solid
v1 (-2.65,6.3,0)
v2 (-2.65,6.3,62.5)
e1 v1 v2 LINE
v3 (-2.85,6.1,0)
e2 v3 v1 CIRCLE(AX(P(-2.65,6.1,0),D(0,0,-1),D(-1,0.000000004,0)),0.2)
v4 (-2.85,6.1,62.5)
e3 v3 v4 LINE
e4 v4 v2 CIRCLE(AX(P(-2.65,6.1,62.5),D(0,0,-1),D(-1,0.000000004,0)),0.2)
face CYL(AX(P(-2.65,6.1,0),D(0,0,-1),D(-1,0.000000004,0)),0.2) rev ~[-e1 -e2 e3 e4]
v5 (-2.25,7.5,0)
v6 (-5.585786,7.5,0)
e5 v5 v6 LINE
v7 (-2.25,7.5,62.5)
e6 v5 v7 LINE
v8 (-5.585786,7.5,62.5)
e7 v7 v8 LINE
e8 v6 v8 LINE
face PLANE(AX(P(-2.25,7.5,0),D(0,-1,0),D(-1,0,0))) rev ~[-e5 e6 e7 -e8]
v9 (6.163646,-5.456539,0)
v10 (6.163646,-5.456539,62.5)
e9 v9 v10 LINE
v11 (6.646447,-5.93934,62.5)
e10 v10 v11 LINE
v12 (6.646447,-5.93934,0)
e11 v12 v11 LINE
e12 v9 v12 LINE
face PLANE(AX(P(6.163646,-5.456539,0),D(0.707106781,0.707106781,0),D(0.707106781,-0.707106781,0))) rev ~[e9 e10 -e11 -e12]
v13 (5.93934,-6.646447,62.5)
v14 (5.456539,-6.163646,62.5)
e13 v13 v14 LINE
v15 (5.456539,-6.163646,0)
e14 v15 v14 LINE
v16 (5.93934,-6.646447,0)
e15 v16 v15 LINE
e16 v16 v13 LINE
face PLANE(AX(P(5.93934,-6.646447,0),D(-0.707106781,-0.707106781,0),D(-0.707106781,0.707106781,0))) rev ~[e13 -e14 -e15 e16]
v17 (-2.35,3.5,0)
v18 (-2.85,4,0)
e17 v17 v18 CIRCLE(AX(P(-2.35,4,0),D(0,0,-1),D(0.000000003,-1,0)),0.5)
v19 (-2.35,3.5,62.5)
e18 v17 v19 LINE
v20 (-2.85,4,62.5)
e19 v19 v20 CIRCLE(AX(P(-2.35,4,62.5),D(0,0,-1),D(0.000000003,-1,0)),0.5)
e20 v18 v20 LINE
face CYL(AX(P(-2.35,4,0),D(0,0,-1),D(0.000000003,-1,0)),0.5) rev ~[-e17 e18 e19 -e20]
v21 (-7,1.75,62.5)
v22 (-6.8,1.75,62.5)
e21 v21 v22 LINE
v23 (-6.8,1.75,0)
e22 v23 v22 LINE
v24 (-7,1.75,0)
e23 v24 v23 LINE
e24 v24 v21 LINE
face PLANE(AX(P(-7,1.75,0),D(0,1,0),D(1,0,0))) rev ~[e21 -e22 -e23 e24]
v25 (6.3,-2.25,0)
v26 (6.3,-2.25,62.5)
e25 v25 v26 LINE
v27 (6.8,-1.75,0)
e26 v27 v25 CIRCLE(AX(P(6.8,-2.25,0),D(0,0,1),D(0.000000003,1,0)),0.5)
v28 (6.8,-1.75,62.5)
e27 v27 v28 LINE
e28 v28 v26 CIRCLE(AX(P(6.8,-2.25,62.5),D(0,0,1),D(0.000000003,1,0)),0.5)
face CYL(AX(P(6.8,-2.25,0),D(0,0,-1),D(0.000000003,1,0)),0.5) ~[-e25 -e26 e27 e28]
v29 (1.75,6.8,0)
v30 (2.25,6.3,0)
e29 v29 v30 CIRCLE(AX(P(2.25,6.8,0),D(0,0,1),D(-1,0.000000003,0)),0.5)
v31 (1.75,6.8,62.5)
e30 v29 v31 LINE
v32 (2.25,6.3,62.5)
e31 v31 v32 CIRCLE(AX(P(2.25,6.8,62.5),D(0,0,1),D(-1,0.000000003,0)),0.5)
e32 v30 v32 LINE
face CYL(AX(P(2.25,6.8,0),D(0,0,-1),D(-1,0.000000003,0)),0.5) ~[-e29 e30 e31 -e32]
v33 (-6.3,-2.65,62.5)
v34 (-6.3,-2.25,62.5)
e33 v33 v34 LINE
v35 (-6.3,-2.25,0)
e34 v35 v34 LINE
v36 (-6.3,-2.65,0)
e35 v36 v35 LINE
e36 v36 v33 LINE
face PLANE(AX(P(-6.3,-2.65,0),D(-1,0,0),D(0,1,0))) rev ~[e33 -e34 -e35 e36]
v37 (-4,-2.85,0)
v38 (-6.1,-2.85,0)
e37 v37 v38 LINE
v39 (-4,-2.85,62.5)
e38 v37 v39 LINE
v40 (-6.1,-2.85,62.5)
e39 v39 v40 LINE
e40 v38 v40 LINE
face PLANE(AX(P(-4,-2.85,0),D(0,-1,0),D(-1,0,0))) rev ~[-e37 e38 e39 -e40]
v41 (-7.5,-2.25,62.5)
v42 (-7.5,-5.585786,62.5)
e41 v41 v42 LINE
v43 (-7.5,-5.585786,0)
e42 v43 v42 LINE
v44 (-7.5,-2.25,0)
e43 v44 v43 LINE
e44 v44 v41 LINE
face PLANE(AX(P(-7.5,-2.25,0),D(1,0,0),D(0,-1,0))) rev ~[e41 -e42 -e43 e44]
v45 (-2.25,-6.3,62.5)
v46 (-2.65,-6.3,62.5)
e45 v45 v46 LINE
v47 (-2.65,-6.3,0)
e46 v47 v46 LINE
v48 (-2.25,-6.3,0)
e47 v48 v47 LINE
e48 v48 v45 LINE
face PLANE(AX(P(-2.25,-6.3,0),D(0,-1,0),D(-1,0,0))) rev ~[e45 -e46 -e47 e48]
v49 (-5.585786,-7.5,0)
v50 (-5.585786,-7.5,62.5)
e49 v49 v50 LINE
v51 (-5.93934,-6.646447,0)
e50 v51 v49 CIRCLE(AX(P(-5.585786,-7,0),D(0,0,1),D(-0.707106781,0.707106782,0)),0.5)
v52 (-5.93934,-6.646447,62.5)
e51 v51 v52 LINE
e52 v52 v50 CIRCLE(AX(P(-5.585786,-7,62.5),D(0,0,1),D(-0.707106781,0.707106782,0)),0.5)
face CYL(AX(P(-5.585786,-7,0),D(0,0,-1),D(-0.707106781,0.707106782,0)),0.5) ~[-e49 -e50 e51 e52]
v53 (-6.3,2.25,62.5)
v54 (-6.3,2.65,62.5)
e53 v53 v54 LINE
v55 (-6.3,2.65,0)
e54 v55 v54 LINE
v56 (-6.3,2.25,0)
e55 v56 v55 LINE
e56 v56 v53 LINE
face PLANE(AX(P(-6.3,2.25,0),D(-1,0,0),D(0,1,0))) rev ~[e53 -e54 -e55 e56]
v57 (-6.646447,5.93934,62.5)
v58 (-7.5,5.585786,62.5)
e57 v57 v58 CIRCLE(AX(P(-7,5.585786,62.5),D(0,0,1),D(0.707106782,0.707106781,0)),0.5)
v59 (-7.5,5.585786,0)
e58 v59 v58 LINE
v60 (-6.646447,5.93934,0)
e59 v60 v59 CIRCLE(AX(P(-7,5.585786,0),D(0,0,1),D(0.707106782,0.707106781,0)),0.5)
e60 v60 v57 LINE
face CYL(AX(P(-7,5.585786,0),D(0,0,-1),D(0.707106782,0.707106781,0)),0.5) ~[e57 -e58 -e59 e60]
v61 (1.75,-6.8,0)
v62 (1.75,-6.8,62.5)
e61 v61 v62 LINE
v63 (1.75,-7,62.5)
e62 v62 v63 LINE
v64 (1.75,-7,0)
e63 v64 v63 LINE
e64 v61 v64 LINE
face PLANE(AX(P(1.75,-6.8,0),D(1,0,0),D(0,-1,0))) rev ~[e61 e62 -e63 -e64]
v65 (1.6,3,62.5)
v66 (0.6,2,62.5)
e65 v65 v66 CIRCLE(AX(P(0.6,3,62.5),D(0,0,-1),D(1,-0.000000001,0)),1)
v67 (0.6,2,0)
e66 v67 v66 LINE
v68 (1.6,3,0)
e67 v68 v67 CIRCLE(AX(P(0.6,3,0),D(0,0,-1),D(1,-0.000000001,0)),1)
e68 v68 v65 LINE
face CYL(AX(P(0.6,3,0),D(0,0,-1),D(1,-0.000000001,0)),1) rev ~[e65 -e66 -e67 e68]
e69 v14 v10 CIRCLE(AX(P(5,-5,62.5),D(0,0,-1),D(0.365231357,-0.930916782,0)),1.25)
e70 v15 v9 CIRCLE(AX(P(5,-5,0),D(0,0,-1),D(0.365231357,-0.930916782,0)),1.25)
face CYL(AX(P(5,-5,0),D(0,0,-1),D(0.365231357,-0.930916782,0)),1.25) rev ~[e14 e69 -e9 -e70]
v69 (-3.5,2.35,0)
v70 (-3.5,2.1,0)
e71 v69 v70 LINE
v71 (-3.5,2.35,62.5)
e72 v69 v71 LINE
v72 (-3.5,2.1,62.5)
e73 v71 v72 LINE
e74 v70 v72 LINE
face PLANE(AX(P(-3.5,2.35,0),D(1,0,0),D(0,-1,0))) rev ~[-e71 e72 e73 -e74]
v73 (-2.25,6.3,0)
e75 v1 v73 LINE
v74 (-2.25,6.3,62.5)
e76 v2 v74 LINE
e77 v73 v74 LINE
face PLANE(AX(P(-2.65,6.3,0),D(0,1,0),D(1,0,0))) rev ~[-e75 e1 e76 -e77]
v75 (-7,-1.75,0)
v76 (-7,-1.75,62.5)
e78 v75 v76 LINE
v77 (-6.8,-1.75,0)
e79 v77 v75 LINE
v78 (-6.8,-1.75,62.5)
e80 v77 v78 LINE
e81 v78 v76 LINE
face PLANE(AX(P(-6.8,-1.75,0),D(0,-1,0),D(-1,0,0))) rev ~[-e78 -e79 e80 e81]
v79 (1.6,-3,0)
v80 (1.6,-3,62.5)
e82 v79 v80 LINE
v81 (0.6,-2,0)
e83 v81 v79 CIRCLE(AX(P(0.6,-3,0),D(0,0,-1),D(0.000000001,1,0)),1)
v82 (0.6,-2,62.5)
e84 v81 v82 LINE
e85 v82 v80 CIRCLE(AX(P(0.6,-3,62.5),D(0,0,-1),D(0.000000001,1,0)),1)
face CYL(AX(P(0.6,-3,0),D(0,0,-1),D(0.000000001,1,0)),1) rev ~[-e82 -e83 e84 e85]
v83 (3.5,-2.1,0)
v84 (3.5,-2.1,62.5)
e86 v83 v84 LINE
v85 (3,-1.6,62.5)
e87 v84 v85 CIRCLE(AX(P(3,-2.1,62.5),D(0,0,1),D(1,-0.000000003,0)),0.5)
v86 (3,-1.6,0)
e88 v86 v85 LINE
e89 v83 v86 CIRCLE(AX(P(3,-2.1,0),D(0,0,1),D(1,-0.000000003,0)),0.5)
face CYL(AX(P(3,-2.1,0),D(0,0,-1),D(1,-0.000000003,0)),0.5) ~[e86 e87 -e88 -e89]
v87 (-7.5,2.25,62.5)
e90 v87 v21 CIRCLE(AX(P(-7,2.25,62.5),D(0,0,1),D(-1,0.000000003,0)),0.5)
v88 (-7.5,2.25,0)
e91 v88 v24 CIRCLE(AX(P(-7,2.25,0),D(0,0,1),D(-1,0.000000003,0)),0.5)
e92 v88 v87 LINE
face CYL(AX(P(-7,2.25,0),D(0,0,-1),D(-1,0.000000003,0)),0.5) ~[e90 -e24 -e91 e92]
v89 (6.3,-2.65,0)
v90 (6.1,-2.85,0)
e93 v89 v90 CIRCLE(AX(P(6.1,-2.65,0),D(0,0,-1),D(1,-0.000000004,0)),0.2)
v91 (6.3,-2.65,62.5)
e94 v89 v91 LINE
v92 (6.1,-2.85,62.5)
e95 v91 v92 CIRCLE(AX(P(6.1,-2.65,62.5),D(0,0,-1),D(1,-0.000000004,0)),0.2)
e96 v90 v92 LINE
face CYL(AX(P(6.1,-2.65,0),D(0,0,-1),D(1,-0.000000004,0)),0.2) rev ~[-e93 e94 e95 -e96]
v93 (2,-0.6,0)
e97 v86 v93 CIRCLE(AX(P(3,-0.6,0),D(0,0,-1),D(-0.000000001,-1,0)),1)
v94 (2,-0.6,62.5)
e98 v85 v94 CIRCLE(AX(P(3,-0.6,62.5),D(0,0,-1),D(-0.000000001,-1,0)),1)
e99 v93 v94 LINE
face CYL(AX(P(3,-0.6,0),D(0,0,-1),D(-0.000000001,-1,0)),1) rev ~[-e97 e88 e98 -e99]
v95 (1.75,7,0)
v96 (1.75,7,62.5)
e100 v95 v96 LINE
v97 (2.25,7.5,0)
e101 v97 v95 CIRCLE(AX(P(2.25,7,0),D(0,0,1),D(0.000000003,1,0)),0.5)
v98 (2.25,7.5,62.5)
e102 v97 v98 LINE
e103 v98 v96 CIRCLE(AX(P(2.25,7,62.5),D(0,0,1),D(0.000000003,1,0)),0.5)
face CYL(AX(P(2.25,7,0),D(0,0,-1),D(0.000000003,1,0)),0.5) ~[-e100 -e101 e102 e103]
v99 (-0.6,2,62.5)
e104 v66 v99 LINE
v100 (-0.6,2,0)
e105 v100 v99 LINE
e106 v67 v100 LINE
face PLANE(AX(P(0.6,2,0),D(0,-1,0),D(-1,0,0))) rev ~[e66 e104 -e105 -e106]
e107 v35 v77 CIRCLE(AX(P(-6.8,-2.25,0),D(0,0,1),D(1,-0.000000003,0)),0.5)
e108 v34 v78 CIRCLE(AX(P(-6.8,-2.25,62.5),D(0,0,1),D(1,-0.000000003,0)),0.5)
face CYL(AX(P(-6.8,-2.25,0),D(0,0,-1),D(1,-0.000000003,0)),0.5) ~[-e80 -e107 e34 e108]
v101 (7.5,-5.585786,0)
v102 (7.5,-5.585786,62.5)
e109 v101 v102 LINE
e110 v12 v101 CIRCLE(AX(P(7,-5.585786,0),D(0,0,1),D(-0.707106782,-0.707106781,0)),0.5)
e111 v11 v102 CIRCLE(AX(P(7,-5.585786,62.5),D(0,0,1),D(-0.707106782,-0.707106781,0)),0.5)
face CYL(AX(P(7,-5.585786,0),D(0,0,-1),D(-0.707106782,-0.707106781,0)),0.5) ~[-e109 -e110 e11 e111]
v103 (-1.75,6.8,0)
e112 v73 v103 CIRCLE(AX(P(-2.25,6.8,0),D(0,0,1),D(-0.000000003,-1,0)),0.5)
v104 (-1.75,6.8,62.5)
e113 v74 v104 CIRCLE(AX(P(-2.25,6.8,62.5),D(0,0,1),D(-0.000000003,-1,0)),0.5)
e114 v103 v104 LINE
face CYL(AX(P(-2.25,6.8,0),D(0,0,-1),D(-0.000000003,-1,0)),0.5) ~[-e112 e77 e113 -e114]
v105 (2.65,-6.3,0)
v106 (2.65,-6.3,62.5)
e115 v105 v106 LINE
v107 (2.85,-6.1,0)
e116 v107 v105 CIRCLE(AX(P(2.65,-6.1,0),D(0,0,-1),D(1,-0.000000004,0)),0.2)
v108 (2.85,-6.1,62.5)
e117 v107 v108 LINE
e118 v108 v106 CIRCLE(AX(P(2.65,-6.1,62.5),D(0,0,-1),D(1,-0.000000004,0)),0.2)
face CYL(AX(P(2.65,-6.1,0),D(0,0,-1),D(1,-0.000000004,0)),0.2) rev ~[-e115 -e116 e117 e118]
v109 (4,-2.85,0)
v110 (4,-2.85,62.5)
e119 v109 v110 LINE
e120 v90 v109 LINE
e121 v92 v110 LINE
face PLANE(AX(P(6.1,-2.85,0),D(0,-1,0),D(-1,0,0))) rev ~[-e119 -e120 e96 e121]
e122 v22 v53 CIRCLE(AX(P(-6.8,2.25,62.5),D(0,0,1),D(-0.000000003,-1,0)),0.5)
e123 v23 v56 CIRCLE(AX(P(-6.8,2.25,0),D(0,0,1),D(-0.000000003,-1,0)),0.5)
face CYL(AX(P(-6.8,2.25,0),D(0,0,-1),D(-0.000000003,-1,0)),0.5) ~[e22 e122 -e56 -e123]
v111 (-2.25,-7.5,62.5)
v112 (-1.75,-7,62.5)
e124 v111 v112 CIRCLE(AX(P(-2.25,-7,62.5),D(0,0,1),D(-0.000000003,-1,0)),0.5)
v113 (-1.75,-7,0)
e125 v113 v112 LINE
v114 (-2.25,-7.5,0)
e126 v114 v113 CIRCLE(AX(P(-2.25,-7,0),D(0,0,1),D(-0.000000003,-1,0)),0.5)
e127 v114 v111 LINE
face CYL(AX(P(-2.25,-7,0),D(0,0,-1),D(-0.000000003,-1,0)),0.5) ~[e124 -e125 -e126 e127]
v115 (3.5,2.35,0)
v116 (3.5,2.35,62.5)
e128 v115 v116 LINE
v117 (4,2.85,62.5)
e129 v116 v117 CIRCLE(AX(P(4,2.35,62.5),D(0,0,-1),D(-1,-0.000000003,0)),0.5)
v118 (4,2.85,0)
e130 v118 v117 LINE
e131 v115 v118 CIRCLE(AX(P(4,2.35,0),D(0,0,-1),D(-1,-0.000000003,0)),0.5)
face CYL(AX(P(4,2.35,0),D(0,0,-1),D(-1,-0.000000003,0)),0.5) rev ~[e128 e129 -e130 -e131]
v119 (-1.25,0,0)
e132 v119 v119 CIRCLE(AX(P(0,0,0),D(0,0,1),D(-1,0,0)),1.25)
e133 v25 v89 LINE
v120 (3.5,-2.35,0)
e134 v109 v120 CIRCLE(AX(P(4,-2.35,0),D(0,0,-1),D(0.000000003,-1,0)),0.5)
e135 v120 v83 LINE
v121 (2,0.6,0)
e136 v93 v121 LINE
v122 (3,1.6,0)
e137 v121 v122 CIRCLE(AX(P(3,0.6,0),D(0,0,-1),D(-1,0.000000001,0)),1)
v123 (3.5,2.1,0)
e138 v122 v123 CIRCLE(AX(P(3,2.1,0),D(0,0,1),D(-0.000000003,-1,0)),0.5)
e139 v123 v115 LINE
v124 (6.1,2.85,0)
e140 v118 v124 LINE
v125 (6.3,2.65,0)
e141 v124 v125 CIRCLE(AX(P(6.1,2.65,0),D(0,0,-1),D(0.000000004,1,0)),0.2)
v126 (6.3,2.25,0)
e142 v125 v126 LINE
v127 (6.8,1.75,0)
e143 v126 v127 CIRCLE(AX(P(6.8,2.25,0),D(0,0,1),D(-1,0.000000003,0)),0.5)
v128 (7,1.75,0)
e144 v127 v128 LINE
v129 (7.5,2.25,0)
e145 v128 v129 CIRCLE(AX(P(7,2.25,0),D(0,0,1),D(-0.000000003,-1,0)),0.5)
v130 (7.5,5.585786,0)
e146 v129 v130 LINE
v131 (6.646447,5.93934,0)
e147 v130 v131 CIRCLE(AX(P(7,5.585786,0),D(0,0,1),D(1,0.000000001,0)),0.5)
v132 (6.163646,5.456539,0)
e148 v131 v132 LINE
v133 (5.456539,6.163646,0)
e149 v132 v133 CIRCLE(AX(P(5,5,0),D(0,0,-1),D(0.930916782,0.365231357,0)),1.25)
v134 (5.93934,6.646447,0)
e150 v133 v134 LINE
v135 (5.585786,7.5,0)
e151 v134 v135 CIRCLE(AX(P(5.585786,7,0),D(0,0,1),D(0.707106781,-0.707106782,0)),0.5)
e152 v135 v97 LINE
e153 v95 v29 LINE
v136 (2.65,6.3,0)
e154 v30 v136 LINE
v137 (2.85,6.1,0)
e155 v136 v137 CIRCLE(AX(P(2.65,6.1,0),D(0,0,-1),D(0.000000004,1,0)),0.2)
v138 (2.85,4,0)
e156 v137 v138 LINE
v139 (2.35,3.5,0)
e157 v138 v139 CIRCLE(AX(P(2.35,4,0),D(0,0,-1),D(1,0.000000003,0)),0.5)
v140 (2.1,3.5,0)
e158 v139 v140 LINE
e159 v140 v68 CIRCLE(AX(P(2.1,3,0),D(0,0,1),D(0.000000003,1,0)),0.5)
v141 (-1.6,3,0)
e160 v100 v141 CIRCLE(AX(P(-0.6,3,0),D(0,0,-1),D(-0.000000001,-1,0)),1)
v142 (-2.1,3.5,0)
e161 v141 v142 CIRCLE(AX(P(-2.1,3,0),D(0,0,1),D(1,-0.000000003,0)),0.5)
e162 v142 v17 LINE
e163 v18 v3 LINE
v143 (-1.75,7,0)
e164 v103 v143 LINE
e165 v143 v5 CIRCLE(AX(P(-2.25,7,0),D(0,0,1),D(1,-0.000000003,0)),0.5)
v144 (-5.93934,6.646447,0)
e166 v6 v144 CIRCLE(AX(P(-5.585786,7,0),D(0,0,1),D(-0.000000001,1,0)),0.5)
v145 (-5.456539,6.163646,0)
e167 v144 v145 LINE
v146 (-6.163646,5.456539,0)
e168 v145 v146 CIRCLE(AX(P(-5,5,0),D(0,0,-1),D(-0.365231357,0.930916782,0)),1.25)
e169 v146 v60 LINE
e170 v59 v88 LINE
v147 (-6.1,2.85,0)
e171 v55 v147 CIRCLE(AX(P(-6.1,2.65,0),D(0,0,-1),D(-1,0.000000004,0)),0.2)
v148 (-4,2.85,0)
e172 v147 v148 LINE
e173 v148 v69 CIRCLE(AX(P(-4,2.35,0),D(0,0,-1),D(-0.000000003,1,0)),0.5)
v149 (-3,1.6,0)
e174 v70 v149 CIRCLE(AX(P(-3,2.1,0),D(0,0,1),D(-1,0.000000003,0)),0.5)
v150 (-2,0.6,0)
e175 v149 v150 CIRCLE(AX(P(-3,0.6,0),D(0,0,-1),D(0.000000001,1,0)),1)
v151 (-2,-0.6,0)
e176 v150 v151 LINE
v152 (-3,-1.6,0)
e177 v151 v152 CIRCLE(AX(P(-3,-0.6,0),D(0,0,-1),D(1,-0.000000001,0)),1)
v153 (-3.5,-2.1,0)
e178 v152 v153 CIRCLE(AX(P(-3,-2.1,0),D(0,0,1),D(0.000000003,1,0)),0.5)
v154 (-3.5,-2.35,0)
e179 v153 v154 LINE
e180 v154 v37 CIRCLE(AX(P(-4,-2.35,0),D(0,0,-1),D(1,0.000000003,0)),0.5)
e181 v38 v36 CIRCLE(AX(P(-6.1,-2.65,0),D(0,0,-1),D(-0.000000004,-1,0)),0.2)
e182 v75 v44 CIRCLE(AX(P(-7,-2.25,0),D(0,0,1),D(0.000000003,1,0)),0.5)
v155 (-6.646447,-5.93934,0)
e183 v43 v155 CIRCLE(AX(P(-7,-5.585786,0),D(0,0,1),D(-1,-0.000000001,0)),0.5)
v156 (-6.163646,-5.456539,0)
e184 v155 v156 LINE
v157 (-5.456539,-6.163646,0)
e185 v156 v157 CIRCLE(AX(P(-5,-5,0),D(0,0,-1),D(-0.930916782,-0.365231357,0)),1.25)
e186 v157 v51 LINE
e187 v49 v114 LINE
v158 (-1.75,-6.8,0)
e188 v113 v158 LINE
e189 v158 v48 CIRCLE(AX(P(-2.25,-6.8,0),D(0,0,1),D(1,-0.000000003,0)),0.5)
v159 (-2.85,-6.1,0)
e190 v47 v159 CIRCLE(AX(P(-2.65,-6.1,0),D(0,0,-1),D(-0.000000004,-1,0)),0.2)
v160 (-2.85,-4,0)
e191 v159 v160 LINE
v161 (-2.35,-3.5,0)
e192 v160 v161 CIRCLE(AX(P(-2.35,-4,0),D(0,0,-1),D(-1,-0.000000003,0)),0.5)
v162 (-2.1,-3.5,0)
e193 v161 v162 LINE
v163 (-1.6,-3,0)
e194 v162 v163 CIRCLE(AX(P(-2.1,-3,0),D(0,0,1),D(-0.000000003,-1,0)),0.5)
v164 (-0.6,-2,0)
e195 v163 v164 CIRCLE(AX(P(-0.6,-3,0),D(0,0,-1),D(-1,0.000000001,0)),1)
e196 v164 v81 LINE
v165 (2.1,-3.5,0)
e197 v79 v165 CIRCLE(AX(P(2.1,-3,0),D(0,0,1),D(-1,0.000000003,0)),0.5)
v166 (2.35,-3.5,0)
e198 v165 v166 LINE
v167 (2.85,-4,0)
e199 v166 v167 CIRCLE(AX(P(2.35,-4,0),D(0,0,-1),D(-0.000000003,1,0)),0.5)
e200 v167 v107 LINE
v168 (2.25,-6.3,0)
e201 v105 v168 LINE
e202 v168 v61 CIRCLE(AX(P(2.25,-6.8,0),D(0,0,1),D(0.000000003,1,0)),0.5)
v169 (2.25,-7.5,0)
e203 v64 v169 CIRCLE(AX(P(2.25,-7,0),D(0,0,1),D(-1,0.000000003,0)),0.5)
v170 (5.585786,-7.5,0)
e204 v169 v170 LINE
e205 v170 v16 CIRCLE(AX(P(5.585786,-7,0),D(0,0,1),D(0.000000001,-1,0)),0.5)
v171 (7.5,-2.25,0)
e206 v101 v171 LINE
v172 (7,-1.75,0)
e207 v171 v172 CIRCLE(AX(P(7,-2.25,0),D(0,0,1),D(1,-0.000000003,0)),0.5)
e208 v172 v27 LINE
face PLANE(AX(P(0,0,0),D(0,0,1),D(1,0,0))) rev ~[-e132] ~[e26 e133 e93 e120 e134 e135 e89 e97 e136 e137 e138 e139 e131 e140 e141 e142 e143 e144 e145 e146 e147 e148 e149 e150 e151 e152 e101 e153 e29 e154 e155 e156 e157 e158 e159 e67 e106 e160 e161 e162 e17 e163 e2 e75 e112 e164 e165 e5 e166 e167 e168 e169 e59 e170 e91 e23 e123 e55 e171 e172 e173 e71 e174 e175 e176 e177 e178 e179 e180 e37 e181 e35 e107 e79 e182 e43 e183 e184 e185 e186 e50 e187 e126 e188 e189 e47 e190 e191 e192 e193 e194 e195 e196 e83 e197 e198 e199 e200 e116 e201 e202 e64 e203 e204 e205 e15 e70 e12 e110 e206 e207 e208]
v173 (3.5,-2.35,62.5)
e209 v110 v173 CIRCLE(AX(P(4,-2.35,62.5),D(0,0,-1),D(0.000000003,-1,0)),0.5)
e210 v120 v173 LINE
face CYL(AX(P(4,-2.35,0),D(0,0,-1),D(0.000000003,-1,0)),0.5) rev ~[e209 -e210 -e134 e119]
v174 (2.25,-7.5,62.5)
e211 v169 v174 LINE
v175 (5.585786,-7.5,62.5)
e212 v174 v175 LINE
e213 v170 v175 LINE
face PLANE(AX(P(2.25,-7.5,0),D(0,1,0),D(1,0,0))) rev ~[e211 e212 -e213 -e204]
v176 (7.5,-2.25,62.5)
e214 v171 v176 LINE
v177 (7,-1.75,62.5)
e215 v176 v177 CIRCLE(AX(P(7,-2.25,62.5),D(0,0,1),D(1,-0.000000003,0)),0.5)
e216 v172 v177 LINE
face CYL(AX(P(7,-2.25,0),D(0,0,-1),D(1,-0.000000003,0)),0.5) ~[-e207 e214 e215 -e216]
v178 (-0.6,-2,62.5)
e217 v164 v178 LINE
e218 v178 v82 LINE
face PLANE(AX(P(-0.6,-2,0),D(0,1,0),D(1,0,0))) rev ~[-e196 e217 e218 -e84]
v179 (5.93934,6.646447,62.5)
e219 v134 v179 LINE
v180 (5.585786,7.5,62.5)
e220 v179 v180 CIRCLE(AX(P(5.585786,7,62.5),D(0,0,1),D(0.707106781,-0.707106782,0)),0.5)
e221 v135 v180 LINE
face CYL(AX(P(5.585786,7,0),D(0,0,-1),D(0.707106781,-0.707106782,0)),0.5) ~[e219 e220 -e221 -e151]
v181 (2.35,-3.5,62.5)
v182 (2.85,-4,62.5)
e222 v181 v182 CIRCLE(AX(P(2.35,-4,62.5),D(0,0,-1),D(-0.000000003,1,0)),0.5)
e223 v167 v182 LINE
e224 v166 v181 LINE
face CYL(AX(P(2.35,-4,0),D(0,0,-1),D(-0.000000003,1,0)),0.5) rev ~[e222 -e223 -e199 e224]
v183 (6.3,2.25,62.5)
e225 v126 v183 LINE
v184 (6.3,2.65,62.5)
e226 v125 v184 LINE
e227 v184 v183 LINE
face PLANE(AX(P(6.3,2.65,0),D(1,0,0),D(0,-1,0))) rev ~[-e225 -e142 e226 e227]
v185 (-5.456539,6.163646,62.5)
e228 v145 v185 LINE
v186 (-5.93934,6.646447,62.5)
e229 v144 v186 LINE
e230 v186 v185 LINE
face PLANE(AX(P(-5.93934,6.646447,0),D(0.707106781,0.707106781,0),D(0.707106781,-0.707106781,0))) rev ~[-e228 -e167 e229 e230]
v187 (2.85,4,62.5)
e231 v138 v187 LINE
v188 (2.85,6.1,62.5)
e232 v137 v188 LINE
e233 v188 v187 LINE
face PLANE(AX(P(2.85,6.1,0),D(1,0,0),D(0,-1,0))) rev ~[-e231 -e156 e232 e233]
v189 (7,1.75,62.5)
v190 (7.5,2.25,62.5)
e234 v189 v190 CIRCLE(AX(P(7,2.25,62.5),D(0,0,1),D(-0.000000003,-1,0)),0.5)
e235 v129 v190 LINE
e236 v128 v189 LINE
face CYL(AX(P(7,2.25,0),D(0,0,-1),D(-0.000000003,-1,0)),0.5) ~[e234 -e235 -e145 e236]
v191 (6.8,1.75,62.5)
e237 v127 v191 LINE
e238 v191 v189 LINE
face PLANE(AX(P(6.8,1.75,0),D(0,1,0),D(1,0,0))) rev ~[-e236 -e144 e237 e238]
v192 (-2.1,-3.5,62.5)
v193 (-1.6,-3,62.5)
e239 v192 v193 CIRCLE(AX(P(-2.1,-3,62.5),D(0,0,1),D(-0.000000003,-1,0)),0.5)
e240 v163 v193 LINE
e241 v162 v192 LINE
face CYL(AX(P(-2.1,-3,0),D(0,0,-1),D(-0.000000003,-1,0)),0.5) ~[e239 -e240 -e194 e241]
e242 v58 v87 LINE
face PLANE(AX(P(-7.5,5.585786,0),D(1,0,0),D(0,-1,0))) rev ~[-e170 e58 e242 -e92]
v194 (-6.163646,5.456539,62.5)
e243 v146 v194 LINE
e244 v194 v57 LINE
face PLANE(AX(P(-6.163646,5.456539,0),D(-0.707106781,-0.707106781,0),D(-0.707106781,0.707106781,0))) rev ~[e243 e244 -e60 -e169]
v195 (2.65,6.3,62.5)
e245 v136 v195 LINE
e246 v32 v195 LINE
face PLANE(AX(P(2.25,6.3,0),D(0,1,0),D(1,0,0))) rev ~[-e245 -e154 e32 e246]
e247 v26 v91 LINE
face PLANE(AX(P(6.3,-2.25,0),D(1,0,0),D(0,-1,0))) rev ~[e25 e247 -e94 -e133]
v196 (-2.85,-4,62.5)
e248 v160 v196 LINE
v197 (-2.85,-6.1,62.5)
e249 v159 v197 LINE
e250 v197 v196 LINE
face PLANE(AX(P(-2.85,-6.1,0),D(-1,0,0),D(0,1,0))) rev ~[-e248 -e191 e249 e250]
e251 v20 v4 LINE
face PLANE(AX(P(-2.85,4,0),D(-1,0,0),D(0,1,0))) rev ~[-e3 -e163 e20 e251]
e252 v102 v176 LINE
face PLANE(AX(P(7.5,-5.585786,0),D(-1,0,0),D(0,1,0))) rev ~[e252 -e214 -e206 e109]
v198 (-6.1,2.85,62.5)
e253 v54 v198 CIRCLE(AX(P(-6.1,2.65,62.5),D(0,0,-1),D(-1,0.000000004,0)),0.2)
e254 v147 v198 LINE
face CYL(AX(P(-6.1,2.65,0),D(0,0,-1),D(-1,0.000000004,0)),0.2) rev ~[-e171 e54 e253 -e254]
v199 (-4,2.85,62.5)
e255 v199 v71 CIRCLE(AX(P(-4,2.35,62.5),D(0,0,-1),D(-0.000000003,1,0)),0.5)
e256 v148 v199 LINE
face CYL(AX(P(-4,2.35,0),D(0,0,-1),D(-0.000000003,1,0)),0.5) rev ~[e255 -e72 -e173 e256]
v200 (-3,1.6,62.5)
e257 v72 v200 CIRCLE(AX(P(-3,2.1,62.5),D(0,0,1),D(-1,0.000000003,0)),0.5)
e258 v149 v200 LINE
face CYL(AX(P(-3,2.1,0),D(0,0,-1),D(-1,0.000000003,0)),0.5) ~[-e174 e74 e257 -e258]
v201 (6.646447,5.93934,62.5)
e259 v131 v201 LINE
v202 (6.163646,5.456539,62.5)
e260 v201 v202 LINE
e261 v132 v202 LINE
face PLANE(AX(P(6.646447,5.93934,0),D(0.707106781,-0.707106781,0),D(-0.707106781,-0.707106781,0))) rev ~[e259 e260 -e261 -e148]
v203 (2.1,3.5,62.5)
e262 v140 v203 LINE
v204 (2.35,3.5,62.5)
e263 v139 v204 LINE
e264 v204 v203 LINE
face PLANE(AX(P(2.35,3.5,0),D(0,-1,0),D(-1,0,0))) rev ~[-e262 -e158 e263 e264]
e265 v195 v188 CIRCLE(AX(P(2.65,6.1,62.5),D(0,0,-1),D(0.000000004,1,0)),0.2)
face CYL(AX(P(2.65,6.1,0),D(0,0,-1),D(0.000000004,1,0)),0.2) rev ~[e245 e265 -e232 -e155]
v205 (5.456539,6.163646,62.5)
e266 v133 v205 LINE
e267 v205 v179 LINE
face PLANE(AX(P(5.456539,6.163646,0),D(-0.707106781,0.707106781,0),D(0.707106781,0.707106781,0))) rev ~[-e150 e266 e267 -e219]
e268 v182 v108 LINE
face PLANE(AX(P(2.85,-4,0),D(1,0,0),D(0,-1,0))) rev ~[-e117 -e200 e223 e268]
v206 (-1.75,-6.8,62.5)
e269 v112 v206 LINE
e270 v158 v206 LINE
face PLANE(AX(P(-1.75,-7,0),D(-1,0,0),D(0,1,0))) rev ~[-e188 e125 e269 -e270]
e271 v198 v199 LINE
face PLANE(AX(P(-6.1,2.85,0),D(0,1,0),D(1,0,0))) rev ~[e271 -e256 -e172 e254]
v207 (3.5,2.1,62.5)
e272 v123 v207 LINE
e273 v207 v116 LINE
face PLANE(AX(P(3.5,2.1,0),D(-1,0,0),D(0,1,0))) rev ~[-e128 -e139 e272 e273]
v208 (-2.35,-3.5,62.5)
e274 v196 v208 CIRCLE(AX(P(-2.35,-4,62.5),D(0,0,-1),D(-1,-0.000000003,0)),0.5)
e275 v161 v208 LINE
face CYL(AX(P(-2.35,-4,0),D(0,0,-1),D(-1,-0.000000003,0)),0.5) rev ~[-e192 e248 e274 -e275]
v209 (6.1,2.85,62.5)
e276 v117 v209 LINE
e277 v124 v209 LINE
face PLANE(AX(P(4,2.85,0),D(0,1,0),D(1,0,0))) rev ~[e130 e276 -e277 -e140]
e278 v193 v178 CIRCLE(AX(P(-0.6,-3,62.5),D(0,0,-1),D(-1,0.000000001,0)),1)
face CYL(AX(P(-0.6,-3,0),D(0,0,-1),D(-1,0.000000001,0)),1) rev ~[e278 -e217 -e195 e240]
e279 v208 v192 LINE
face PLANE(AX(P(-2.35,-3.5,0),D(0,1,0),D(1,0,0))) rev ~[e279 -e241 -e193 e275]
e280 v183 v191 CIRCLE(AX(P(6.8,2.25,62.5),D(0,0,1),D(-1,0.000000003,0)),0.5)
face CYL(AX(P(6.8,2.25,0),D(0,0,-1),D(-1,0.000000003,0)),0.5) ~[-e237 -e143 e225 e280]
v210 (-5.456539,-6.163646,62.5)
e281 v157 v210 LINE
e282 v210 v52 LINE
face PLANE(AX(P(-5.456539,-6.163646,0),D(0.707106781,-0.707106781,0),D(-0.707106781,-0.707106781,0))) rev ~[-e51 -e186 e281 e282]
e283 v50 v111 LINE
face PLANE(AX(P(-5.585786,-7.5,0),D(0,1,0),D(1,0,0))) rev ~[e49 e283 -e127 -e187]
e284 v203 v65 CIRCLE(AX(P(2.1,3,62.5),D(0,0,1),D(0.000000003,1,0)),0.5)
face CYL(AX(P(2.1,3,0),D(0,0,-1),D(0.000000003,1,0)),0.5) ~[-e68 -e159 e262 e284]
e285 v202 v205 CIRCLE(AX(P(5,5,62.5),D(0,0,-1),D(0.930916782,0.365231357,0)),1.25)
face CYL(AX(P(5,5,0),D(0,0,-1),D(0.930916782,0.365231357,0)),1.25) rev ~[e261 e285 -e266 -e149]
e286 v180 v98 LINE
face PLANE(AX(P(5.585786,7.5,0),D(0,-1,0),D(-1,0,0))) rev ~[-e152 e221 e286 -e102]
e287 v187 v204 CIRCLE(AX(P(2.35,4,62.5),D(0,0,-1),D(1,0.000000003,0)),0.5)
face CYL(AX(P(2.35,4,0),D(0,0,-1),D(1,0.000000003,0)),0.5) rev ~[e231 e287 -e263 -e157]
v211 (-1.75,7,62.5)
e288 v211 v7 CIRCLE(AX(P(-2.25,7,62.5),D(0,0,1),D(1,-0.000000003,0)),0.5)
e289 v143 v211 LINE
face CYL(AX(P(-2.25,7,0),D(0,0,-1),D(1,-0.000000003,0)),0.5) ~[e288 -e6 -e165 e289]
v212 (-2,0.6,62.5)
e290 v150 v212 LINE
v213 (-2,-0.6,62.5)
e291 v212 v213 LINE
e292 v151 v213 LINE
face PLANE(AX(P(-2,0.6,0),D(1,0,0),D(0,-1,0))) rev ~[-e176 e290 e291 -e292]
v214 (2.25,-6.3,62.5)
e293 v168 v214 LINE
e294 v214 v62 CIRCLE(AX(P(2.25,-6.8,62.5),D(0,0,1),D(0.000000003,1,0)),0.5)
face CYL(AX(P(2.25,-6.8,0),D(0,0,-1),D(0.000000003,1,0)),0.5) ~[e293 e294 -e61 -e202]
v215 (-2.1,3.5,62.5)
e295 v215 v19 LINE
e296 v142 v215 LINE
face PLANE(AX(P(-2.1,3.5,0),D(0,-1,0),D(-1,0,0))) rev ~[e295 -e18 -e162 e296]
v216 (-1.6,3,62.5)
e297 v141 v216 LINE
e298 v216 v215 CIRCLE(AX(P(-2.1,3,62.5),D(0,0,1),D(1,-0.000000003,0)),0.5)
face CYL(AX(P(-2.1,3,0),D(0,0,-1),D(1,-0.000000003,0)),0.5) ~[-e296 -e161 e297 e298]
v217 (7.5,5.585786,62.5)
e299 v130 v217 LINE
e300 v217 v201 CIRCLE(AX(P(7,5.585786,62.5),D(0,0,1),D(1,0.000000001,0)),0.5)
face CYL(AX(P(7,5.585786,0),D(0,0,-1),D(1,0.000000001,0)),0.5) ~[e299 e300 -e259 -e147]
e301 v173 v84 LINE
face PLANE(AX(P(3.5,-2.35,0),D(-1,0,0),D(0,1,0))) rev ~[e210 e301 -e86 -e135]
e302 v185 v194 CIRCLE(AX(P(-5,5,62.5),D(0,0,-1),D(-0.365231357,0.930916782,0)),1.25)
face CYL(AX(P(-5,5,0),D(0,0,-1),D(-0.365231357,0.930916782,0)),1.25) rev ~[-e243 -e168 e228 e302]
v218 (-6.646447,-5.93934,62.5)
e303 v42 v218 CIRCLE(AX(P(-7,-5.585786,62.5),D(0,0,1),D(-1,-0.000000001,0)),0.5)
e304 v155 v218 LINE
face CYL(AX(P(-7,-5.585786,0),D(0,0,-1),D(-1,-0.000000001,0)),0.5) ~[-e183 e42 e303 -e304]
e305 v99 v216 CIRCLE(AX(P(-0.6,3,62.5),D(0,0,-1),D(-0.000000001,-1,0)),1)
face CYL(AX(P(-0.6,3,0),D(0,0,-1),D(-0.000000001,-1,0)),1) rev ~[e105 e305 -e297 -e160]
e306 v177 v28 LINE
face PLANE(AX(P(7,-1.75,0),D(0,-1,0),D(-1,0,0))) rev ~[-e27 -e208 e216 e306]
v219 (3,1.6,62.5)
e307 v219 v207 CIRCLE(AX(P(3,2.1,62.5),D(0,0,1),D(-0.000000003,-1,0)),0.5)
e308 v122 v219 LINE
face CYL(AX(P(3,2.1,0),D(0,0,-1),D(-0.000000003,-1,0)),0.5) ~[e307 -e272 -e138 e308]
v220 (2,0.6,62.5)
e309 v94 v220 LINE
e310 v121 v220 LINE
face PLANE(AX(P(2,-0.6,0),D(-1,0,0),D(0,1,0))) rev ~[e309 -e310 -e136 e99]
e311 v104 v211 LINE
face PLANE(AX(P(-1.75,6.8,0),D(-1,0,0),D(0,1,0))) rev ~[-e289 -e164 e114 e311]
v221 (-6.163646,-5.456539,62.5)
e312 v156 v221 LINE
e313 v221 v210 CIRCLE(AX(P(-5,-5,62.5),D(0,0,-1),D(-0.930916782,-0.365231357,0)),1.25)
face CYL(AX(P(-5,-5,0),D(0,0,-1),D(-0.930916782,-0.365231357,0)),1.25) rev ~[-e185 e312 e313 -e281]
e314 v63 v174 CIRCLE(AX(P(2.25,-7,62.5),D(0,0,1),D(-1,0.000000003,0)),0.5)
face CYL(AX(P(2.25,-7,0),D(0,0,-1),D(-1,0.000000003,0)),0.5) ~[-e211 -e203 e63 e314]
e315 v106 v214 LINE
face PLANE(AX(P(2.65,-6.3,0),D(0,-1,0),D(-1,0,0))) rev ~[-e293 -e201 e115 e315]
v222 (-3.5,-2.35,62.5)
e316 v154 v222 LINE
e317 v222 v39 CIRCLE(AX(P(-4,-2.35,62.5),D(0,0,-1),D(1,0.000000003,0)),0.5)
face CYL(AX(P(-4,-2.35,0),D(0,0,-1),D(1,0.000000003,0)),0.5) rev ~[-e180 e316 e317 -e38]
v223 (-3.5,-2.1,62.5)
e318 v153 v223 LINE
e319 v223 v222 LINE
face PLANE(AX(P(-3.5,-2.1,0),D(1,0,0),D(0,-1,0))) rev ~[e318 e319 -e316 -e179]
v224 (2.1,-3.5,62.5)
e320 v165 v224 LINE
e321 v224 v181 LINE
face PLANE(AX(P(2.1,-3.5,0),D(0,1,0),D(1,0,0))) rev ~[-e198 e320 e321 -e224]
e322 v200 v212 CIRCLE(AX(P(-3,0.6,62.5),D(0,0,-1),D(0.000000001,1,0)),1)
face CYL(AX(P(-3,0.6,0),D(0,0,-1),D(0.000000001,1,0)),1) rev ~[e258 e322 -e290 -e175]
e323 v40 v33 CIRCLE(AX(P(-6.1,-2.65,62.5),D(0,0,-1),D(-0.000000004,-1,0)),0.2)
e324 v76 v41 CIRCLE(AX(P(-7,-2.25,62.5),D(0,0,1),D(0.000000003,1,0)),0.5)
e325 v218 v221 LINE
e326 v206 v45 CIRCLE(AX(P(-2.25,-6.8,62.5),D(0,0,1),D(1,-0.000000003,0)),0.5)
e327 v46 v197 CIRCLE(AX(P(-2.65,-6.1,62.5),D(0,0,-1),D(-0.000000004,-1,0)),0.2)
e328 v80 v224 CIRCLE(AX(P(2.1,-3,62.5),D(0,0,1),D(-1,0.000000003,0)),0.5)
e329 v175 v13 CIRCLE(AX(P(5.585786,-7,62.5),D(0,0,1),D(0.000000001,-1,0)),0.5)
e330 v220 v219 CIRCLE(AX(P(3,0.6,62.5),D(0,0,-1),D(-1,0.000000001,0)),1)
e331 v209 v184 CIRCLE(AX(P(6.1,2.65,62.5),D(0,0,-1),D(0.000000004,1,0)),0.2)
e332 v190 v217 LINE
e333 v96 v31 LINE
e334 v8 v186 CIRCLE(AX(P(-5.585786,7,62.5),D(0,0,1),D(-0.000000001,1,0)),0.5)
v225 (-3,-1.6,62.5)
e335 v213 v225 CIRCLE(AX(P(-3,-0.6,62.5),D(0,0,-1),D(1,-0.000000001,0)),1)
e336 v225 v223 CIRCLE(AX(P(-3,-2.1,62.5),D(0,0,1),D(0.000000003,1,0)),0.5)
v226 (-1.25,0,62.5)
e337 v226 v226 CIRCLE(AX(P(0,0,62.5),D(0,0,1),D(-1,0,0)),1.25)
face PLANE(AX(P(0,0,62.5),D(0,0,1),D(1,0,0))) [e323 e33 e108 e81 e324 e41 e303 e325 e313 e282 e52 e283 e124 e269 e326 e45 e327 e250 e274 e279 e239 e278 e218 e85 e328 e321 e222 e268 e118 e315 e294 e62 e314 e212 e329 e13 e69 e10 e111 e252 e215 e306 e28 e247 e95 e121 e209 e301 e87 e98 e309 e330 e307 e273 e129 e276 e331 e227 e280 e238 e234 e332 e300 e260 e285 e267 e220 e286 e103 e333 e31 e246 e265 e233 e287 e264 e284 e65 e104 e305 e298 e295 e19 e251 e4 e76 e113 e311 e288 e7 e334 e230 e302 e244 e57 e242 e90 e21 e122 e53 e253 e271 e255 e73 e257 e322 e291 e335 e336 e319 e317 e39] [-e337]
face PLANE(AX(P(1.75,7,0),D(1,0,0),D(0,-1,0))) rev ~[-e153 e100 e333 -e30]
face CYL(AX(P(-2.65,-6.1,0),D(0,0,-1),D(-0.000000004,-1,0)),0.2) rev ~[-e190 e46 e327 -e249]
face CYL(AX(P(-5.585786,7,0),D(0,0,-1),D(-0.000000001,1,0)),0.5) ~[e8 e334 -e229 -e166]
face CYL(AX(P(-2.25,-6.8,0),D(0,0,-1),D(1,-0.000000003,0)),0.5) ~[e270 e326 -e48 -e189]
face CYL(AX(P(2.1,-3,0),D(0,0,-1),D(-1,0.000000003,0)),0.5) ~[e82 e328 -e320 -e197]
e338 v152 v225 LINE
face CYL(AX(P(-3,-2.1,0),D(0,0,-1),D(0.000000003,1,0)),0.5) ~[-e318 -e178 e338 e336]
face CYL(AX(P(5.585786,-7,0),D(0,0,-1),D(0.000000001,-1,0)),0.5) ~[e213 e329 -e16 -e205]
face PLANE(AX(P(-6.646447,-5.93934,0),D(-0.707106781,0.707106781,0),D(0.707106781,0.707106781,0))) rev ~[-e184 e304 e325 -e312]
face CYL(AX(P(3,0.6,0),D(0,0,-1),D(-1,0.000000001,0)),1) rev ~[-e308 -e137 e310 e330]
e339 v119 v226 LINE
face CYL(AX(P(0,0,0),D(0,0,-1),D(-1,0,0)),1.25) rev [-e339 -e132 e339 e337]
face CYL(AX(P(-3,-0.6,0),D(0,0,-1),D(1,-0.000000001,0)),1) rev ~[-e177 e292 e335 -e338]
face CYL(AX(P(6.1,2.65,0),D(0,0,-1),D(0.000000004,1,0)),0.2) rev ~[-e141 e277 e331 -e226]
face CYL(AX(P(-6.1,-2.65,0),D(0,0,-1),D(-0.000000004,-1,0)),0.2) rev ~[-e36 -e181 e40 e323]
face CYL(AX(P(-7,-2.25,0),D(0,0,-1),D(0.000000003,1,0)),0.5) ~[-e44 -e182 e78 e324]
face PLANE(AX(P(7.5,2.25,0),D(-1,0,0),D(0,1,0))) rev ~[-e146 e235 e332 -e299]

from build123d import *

# Parameters (mm, degrees)
SKETCH1_R           = 1.25
BOSS_EXTRUDE1_DEPTH = 62.5


with BuildPart() as part:
    # Sketch1 → Boss-Extrude1 (new body)
    with BuildSketch(Plane.XY):
        with BuildLine():
            Line((6.646446609, 5.939339828), (6.163645978, 5.456539197))
            ThreePointArc((6.163645978, 5.456539197), (4.116116524, 4.116116524), (5.456539197, 6.163645978))
            Line((5.456539197, 6.163645978), (5.939339828, 6.646446609))
            ThreePointArc((5.939339828, 6.646446609), (6.047726204, 7.191341716), (5.585786438, 7.5))
            Line((5.585786438, 7.5), (2.25, 7.5))
            ThreePointArc((2.25, 7.5), (1.896446609, 7.353553391), (1.75, 7))
            Line((1.75, 7), (1.75, 6.8))
            ThreePointArc((1.75, 6.8), (1.896446609, 6.446446609), (2.25, 6.3))
            Line((2.25, 6.3), (2.65, 6.3))
            ThreePointArc((2.65, 6.3), (2.791421356, 6.241421356), (2.85, 6.1))
            Line((2.85, 6.1), (2.85, 4))
            ThreePointArc((2.85, 4), (2.703553391, 3.646446609), (2.35, 3.5))
            Line((2.35, 3.5), (2.1, 3.5))
            ThreePointArc((2.1, 3.5), (1.746446609, 3.353553391), (1.6, 3))
            ThreePointArc((1.6, 3), (1.307106781, 2.292893219), (0.6, 2))
            Line((0.6, 2), (-0.6, 2))
            ThreePointArc((-0.6, 2), (-1.307106781, 2.292893219), (-1.6, 3))
            ThreePointArc((-1.6, 3), (-1.746446609, 3.353553391), (-2.1, 3.5))
            Line((-2.1, 3.5), (-2.35, 3.5))
            ThreePointArc((-2.35, 3.5), (-2.703553391, 3.646446609), (-2.85, 4))
            Line((-2.85, 4), (-2.85, 6.1))
            ThreePointArc((-2.85, 6.1), (-2.791421356, 6.241421356), (-2.65, 6.3))
            Line((-2.65, 6.3), (-2.25, 6.3))
            ThreePointArc((-2.25, 6.3), (-1.896446609, 6.446446609), (-1.75, 6.8))
            Line((-1.75, 6.8), (-1.75, 7))
            ThreePointArc((-1.75, 7), (-1.896446609, 7.353553391), (-2.25, 7.5))
            Line((-2.25, 7.5), (-5.585786438, 7.5))
            ThreePointArc((-5.585786438, 7.5), (-6.047726204, 7.191341716), (-5.939339828, 6.646446609))
            Line((-5.939339828, 6.646446609), (-5.456539197, 6.163645978))
            ThreePointArc((-5.456539197, 6.163645978), (-4.116116524, 4.116116524), (-6.163645978, 5.456539197))
            Line((-6.163645978, 5.456539197), (-6.646446609, 5.939339828))
            ThreePointArc((-6.646446609, 5.939339828), (-7.191341716, 6.047726204), (-7.5, 5.585786438))
            Line((-7.5, 5.585786438), (-7.5, 2.25))
            ThreePointArc((-7.5, 2.25), (-7.353553391, 1.896446609), (-7, 1.75))
            Line((-7, 1.75), (-6.8, 1.75))
            ThreePointArc((-6.8, 1.75), (-6.446446609, 1.896446609), (-6.3, 2.25))
            Line((-6.3, 2.25), (-6.3, 2.65))
            ThreePointArc((-6.3, 2.65), (-6.241421356, 2.791421356), (-6.1, 2.85))
            Line((-6.1, 2.85), (-4, 2.85))
            ThreePointArc((-4, 2.85), (-3.646446609, 2.703553391), (-3.5, 2.35))
            Line((-3.5, 2.35), (-3.5, 2.1))
            ThreePointArc((-3.5, 2.1), (-3.353553391, 1.746446609), (-3, 1.6))
            ThreePointArc((-3, 1.6), (-2.292893219, 1.307106781), (-2, 0.6))
            Line((-2, 0.6), (-2, -0.6))
            ThreePointArc((-2, -0.6), (-2.292893219, -1.307106781), (-3, -1.6))
            ThreePointArc((-3, -1.6), (-3.353553391, -1.746446609), (-3.5, -2.1))
            Line((-3.5, -2.1), (-3.5, -2.35))
            ThreePointArc((-3.5, -2.35), (-3.646446609, -2.703553391), (-4, -2.85))
            Line((-4, -2.85), (-6.1, -2.85))
            ThreePointArc((-6.1, -2.85), (-6.241421356, -2.791421356), (-6.3, -2.65))
            Line((-6.3, -2.65), (-6.3, -2.25))
            ThreePointArc((-6.3, -2.25), (-6.446446609, -1.896446609), (-6.8, -1.75))
            Line((-6.8, -1.75), (-7, -1.75))
            ThreePointArc((-7, -1.75), (-7.353553391, -1.896446609), (-7.5, -2.25))
            Line((-7.5, -2.25), (-7.5, -5.585786438))
            ThreePointArc((-7.5, -5.585786438), (-7.191341716, -6.047726204), (-6.646446609, -5.939339828))
            Line((-6.646446609, -5.939339828), (-6.163645978, -5.456539197))
            ThreePointArc((-6.163645978, -5.456539197), (-4.116116524, -4.116116524), (-5.456539197, -6.163645978))
            Line((-5.456539197, -6.163645978), (-5.939339828, -6.646446609))
            ThreePointArc((-5.939339828, -6.646446609), (-6.047726204, -7.191341716), (-5.585786438, -7.5))
            Line((-5.585786438, -7.5), (-2.25, -7.5))
            ThreePointArc((-2.25, -7.5), (-1.896446609, -7.353553391), (-1.75, -7))
            Line((-1.75, -7), (-1.75, -6.8))
            ThreePointArc((-1.75, -6.8), (-1.896446609, -6.446446609), (-2.25, -6.3))
            Line((-2.25, -6.3), (-2.65, -6.3))
            ThreePointArc((-2.65, -6.3), (-2.791421356, -6.241421356), (-2.85, -6.1))
            Line((-2.85, -6.1), (-2.85, -4))
            ThreePointArc((-2.85, -4), (-2.703553391, -3.646446609), (-2.35, -3.5))
            Line((-2.35, -3.5), (-2.1, -3.5))
            ThreePointArc((-2.1, -3.5), (-1.746446609, -3.353553391), (-1.6, -3))
            ThreePointArc((-1.6, -3), (-1.307106781, -2.292893219), (-0.6, -2))
            Line((-0.6, -2), (0.6, -2))
            ThreePointArc((0.6, -2), (1.307106781, -2.292893219), (1.6, -3))
            ThreePointArc((1.6, -3), (1.746446609, -3.353553391), (2.1, -3.5))
            Line((2.1, -3.5), (2.35, -3.5))
            ThreePointArc((2.35, -3.5), (2.703553391, -3.646446609), (2.85, -4))
            Line((2.85, -4), (2.85, -6.1))
            ThreePointArc((2.85, -6.1), (2.791421356, -6.241421356), (2.65, -6.3))
            Line((2.65, -6.3), (2.25, -6.3))
            ThreePointArc((2.25, -6.3), (1.896446609, -6.446446609), (1.75, -6.8))
            Line((1.75, -6.8), (1.75, -7))
            ThreePointArc((1.75, -7), (1.896446609, -7.353553391), (2.25, -7.5))
            Line((2.25, -7.5), (5.585786438, -7.5))
            ThreePointArc((5.585786438, -7.5), (6.047726204, -7.191341716), (5.939339828, -6.646446609))
            Line((5.939339828, -6.646446609), (5.456539197, -6.163645978))
            ThreePointArc((5.456539197, -6.163645978), (4.116116524, -4.116116524), (6.163645978, -5.456539197))
            Line((6.163645978, -5.456539197), (6.646446609, -5.939339828))
            ThreePointArc((6.646446609, -5.939339828), (7.191341716, -6.047726204), (7.5, -5.585786438))
            Line((7.5, -5.585786438), (7.5, -2.25))
            ThreePointArc((7.5, -2.25), (7.353553391, -1.896446609), (7, -1.75))
            Line((7, -1.75), (6.8, -1.75))
            ThreePointArc((6.8, -1.75), (6.446446609, -1.896446609), (6.3, -2.25))
            Line((6.3, -2.25), (6.3, -2.65))
            ThreePointArc((6.3, -2.65), (6.241421356, -2.791421356), (6.1, -2.85))
            Line((6.1, -2.85), (4, -2.85))
            ThreePointArc((4, -2.85), (3.646446609, -2.703553391), (3.5, -2.35))
            Line((3.5, -2.35), (3.5, -2.1))
            ThreePointArc((3.5, -2.1), (3.353553391, -1.746446609), (3, -1.6))
            ThreePointArc((3, -1.6), (2.292893219, -1.307106781), (2, -0.6))
            Line((2, -0.6), (2, 0.6))
            ThreePointArc((2, 0.6), (2.292893219, 1.307106781), (3, 1.6))
            ThreePointArc((3, 1.6), (3.353553391, 1.746446609), (3.5, 2.1))
            Line((3.5, 2.1), (3.5, 2.35))
            ThreePointArc((3.5, 2.35), (3.646446609, 2.703553391), (4, 2.85))
            Line((4, 2.85), (6.1, 2.85))
            ThreePointArc((6.1, 2.85), (6.241421356, 2.791421356), (6.3, 2.65))
            Line((6.3, 2.65), (6.3, 2.25))
            ThreePointArc((6.3, 2.25), (6.446446609, 1.896446609), (6.8, 1.75))
            Line((6.8, 1.75), (7, 1.75))
            ThreePointArc((7, 1.75), (7.353553391, 1.896446609), (7.5, 2.25))
            Line((7.5, 2.25), (7.5, 5.585786438))
            ThreePointArc((7.5, 5.585786438), (7.191341716, 6.047726204), (6.646446609, 5.939339828))
        make_face()
        with Locations(Location((0, 0, 0), (0, 0, 180))):
            Circle(SKETCH1_R, mode=Mode.SUBTRACT)
    extrude(amount=BOSS_EXTRUDE1_DEPTH)


solid = part.part
